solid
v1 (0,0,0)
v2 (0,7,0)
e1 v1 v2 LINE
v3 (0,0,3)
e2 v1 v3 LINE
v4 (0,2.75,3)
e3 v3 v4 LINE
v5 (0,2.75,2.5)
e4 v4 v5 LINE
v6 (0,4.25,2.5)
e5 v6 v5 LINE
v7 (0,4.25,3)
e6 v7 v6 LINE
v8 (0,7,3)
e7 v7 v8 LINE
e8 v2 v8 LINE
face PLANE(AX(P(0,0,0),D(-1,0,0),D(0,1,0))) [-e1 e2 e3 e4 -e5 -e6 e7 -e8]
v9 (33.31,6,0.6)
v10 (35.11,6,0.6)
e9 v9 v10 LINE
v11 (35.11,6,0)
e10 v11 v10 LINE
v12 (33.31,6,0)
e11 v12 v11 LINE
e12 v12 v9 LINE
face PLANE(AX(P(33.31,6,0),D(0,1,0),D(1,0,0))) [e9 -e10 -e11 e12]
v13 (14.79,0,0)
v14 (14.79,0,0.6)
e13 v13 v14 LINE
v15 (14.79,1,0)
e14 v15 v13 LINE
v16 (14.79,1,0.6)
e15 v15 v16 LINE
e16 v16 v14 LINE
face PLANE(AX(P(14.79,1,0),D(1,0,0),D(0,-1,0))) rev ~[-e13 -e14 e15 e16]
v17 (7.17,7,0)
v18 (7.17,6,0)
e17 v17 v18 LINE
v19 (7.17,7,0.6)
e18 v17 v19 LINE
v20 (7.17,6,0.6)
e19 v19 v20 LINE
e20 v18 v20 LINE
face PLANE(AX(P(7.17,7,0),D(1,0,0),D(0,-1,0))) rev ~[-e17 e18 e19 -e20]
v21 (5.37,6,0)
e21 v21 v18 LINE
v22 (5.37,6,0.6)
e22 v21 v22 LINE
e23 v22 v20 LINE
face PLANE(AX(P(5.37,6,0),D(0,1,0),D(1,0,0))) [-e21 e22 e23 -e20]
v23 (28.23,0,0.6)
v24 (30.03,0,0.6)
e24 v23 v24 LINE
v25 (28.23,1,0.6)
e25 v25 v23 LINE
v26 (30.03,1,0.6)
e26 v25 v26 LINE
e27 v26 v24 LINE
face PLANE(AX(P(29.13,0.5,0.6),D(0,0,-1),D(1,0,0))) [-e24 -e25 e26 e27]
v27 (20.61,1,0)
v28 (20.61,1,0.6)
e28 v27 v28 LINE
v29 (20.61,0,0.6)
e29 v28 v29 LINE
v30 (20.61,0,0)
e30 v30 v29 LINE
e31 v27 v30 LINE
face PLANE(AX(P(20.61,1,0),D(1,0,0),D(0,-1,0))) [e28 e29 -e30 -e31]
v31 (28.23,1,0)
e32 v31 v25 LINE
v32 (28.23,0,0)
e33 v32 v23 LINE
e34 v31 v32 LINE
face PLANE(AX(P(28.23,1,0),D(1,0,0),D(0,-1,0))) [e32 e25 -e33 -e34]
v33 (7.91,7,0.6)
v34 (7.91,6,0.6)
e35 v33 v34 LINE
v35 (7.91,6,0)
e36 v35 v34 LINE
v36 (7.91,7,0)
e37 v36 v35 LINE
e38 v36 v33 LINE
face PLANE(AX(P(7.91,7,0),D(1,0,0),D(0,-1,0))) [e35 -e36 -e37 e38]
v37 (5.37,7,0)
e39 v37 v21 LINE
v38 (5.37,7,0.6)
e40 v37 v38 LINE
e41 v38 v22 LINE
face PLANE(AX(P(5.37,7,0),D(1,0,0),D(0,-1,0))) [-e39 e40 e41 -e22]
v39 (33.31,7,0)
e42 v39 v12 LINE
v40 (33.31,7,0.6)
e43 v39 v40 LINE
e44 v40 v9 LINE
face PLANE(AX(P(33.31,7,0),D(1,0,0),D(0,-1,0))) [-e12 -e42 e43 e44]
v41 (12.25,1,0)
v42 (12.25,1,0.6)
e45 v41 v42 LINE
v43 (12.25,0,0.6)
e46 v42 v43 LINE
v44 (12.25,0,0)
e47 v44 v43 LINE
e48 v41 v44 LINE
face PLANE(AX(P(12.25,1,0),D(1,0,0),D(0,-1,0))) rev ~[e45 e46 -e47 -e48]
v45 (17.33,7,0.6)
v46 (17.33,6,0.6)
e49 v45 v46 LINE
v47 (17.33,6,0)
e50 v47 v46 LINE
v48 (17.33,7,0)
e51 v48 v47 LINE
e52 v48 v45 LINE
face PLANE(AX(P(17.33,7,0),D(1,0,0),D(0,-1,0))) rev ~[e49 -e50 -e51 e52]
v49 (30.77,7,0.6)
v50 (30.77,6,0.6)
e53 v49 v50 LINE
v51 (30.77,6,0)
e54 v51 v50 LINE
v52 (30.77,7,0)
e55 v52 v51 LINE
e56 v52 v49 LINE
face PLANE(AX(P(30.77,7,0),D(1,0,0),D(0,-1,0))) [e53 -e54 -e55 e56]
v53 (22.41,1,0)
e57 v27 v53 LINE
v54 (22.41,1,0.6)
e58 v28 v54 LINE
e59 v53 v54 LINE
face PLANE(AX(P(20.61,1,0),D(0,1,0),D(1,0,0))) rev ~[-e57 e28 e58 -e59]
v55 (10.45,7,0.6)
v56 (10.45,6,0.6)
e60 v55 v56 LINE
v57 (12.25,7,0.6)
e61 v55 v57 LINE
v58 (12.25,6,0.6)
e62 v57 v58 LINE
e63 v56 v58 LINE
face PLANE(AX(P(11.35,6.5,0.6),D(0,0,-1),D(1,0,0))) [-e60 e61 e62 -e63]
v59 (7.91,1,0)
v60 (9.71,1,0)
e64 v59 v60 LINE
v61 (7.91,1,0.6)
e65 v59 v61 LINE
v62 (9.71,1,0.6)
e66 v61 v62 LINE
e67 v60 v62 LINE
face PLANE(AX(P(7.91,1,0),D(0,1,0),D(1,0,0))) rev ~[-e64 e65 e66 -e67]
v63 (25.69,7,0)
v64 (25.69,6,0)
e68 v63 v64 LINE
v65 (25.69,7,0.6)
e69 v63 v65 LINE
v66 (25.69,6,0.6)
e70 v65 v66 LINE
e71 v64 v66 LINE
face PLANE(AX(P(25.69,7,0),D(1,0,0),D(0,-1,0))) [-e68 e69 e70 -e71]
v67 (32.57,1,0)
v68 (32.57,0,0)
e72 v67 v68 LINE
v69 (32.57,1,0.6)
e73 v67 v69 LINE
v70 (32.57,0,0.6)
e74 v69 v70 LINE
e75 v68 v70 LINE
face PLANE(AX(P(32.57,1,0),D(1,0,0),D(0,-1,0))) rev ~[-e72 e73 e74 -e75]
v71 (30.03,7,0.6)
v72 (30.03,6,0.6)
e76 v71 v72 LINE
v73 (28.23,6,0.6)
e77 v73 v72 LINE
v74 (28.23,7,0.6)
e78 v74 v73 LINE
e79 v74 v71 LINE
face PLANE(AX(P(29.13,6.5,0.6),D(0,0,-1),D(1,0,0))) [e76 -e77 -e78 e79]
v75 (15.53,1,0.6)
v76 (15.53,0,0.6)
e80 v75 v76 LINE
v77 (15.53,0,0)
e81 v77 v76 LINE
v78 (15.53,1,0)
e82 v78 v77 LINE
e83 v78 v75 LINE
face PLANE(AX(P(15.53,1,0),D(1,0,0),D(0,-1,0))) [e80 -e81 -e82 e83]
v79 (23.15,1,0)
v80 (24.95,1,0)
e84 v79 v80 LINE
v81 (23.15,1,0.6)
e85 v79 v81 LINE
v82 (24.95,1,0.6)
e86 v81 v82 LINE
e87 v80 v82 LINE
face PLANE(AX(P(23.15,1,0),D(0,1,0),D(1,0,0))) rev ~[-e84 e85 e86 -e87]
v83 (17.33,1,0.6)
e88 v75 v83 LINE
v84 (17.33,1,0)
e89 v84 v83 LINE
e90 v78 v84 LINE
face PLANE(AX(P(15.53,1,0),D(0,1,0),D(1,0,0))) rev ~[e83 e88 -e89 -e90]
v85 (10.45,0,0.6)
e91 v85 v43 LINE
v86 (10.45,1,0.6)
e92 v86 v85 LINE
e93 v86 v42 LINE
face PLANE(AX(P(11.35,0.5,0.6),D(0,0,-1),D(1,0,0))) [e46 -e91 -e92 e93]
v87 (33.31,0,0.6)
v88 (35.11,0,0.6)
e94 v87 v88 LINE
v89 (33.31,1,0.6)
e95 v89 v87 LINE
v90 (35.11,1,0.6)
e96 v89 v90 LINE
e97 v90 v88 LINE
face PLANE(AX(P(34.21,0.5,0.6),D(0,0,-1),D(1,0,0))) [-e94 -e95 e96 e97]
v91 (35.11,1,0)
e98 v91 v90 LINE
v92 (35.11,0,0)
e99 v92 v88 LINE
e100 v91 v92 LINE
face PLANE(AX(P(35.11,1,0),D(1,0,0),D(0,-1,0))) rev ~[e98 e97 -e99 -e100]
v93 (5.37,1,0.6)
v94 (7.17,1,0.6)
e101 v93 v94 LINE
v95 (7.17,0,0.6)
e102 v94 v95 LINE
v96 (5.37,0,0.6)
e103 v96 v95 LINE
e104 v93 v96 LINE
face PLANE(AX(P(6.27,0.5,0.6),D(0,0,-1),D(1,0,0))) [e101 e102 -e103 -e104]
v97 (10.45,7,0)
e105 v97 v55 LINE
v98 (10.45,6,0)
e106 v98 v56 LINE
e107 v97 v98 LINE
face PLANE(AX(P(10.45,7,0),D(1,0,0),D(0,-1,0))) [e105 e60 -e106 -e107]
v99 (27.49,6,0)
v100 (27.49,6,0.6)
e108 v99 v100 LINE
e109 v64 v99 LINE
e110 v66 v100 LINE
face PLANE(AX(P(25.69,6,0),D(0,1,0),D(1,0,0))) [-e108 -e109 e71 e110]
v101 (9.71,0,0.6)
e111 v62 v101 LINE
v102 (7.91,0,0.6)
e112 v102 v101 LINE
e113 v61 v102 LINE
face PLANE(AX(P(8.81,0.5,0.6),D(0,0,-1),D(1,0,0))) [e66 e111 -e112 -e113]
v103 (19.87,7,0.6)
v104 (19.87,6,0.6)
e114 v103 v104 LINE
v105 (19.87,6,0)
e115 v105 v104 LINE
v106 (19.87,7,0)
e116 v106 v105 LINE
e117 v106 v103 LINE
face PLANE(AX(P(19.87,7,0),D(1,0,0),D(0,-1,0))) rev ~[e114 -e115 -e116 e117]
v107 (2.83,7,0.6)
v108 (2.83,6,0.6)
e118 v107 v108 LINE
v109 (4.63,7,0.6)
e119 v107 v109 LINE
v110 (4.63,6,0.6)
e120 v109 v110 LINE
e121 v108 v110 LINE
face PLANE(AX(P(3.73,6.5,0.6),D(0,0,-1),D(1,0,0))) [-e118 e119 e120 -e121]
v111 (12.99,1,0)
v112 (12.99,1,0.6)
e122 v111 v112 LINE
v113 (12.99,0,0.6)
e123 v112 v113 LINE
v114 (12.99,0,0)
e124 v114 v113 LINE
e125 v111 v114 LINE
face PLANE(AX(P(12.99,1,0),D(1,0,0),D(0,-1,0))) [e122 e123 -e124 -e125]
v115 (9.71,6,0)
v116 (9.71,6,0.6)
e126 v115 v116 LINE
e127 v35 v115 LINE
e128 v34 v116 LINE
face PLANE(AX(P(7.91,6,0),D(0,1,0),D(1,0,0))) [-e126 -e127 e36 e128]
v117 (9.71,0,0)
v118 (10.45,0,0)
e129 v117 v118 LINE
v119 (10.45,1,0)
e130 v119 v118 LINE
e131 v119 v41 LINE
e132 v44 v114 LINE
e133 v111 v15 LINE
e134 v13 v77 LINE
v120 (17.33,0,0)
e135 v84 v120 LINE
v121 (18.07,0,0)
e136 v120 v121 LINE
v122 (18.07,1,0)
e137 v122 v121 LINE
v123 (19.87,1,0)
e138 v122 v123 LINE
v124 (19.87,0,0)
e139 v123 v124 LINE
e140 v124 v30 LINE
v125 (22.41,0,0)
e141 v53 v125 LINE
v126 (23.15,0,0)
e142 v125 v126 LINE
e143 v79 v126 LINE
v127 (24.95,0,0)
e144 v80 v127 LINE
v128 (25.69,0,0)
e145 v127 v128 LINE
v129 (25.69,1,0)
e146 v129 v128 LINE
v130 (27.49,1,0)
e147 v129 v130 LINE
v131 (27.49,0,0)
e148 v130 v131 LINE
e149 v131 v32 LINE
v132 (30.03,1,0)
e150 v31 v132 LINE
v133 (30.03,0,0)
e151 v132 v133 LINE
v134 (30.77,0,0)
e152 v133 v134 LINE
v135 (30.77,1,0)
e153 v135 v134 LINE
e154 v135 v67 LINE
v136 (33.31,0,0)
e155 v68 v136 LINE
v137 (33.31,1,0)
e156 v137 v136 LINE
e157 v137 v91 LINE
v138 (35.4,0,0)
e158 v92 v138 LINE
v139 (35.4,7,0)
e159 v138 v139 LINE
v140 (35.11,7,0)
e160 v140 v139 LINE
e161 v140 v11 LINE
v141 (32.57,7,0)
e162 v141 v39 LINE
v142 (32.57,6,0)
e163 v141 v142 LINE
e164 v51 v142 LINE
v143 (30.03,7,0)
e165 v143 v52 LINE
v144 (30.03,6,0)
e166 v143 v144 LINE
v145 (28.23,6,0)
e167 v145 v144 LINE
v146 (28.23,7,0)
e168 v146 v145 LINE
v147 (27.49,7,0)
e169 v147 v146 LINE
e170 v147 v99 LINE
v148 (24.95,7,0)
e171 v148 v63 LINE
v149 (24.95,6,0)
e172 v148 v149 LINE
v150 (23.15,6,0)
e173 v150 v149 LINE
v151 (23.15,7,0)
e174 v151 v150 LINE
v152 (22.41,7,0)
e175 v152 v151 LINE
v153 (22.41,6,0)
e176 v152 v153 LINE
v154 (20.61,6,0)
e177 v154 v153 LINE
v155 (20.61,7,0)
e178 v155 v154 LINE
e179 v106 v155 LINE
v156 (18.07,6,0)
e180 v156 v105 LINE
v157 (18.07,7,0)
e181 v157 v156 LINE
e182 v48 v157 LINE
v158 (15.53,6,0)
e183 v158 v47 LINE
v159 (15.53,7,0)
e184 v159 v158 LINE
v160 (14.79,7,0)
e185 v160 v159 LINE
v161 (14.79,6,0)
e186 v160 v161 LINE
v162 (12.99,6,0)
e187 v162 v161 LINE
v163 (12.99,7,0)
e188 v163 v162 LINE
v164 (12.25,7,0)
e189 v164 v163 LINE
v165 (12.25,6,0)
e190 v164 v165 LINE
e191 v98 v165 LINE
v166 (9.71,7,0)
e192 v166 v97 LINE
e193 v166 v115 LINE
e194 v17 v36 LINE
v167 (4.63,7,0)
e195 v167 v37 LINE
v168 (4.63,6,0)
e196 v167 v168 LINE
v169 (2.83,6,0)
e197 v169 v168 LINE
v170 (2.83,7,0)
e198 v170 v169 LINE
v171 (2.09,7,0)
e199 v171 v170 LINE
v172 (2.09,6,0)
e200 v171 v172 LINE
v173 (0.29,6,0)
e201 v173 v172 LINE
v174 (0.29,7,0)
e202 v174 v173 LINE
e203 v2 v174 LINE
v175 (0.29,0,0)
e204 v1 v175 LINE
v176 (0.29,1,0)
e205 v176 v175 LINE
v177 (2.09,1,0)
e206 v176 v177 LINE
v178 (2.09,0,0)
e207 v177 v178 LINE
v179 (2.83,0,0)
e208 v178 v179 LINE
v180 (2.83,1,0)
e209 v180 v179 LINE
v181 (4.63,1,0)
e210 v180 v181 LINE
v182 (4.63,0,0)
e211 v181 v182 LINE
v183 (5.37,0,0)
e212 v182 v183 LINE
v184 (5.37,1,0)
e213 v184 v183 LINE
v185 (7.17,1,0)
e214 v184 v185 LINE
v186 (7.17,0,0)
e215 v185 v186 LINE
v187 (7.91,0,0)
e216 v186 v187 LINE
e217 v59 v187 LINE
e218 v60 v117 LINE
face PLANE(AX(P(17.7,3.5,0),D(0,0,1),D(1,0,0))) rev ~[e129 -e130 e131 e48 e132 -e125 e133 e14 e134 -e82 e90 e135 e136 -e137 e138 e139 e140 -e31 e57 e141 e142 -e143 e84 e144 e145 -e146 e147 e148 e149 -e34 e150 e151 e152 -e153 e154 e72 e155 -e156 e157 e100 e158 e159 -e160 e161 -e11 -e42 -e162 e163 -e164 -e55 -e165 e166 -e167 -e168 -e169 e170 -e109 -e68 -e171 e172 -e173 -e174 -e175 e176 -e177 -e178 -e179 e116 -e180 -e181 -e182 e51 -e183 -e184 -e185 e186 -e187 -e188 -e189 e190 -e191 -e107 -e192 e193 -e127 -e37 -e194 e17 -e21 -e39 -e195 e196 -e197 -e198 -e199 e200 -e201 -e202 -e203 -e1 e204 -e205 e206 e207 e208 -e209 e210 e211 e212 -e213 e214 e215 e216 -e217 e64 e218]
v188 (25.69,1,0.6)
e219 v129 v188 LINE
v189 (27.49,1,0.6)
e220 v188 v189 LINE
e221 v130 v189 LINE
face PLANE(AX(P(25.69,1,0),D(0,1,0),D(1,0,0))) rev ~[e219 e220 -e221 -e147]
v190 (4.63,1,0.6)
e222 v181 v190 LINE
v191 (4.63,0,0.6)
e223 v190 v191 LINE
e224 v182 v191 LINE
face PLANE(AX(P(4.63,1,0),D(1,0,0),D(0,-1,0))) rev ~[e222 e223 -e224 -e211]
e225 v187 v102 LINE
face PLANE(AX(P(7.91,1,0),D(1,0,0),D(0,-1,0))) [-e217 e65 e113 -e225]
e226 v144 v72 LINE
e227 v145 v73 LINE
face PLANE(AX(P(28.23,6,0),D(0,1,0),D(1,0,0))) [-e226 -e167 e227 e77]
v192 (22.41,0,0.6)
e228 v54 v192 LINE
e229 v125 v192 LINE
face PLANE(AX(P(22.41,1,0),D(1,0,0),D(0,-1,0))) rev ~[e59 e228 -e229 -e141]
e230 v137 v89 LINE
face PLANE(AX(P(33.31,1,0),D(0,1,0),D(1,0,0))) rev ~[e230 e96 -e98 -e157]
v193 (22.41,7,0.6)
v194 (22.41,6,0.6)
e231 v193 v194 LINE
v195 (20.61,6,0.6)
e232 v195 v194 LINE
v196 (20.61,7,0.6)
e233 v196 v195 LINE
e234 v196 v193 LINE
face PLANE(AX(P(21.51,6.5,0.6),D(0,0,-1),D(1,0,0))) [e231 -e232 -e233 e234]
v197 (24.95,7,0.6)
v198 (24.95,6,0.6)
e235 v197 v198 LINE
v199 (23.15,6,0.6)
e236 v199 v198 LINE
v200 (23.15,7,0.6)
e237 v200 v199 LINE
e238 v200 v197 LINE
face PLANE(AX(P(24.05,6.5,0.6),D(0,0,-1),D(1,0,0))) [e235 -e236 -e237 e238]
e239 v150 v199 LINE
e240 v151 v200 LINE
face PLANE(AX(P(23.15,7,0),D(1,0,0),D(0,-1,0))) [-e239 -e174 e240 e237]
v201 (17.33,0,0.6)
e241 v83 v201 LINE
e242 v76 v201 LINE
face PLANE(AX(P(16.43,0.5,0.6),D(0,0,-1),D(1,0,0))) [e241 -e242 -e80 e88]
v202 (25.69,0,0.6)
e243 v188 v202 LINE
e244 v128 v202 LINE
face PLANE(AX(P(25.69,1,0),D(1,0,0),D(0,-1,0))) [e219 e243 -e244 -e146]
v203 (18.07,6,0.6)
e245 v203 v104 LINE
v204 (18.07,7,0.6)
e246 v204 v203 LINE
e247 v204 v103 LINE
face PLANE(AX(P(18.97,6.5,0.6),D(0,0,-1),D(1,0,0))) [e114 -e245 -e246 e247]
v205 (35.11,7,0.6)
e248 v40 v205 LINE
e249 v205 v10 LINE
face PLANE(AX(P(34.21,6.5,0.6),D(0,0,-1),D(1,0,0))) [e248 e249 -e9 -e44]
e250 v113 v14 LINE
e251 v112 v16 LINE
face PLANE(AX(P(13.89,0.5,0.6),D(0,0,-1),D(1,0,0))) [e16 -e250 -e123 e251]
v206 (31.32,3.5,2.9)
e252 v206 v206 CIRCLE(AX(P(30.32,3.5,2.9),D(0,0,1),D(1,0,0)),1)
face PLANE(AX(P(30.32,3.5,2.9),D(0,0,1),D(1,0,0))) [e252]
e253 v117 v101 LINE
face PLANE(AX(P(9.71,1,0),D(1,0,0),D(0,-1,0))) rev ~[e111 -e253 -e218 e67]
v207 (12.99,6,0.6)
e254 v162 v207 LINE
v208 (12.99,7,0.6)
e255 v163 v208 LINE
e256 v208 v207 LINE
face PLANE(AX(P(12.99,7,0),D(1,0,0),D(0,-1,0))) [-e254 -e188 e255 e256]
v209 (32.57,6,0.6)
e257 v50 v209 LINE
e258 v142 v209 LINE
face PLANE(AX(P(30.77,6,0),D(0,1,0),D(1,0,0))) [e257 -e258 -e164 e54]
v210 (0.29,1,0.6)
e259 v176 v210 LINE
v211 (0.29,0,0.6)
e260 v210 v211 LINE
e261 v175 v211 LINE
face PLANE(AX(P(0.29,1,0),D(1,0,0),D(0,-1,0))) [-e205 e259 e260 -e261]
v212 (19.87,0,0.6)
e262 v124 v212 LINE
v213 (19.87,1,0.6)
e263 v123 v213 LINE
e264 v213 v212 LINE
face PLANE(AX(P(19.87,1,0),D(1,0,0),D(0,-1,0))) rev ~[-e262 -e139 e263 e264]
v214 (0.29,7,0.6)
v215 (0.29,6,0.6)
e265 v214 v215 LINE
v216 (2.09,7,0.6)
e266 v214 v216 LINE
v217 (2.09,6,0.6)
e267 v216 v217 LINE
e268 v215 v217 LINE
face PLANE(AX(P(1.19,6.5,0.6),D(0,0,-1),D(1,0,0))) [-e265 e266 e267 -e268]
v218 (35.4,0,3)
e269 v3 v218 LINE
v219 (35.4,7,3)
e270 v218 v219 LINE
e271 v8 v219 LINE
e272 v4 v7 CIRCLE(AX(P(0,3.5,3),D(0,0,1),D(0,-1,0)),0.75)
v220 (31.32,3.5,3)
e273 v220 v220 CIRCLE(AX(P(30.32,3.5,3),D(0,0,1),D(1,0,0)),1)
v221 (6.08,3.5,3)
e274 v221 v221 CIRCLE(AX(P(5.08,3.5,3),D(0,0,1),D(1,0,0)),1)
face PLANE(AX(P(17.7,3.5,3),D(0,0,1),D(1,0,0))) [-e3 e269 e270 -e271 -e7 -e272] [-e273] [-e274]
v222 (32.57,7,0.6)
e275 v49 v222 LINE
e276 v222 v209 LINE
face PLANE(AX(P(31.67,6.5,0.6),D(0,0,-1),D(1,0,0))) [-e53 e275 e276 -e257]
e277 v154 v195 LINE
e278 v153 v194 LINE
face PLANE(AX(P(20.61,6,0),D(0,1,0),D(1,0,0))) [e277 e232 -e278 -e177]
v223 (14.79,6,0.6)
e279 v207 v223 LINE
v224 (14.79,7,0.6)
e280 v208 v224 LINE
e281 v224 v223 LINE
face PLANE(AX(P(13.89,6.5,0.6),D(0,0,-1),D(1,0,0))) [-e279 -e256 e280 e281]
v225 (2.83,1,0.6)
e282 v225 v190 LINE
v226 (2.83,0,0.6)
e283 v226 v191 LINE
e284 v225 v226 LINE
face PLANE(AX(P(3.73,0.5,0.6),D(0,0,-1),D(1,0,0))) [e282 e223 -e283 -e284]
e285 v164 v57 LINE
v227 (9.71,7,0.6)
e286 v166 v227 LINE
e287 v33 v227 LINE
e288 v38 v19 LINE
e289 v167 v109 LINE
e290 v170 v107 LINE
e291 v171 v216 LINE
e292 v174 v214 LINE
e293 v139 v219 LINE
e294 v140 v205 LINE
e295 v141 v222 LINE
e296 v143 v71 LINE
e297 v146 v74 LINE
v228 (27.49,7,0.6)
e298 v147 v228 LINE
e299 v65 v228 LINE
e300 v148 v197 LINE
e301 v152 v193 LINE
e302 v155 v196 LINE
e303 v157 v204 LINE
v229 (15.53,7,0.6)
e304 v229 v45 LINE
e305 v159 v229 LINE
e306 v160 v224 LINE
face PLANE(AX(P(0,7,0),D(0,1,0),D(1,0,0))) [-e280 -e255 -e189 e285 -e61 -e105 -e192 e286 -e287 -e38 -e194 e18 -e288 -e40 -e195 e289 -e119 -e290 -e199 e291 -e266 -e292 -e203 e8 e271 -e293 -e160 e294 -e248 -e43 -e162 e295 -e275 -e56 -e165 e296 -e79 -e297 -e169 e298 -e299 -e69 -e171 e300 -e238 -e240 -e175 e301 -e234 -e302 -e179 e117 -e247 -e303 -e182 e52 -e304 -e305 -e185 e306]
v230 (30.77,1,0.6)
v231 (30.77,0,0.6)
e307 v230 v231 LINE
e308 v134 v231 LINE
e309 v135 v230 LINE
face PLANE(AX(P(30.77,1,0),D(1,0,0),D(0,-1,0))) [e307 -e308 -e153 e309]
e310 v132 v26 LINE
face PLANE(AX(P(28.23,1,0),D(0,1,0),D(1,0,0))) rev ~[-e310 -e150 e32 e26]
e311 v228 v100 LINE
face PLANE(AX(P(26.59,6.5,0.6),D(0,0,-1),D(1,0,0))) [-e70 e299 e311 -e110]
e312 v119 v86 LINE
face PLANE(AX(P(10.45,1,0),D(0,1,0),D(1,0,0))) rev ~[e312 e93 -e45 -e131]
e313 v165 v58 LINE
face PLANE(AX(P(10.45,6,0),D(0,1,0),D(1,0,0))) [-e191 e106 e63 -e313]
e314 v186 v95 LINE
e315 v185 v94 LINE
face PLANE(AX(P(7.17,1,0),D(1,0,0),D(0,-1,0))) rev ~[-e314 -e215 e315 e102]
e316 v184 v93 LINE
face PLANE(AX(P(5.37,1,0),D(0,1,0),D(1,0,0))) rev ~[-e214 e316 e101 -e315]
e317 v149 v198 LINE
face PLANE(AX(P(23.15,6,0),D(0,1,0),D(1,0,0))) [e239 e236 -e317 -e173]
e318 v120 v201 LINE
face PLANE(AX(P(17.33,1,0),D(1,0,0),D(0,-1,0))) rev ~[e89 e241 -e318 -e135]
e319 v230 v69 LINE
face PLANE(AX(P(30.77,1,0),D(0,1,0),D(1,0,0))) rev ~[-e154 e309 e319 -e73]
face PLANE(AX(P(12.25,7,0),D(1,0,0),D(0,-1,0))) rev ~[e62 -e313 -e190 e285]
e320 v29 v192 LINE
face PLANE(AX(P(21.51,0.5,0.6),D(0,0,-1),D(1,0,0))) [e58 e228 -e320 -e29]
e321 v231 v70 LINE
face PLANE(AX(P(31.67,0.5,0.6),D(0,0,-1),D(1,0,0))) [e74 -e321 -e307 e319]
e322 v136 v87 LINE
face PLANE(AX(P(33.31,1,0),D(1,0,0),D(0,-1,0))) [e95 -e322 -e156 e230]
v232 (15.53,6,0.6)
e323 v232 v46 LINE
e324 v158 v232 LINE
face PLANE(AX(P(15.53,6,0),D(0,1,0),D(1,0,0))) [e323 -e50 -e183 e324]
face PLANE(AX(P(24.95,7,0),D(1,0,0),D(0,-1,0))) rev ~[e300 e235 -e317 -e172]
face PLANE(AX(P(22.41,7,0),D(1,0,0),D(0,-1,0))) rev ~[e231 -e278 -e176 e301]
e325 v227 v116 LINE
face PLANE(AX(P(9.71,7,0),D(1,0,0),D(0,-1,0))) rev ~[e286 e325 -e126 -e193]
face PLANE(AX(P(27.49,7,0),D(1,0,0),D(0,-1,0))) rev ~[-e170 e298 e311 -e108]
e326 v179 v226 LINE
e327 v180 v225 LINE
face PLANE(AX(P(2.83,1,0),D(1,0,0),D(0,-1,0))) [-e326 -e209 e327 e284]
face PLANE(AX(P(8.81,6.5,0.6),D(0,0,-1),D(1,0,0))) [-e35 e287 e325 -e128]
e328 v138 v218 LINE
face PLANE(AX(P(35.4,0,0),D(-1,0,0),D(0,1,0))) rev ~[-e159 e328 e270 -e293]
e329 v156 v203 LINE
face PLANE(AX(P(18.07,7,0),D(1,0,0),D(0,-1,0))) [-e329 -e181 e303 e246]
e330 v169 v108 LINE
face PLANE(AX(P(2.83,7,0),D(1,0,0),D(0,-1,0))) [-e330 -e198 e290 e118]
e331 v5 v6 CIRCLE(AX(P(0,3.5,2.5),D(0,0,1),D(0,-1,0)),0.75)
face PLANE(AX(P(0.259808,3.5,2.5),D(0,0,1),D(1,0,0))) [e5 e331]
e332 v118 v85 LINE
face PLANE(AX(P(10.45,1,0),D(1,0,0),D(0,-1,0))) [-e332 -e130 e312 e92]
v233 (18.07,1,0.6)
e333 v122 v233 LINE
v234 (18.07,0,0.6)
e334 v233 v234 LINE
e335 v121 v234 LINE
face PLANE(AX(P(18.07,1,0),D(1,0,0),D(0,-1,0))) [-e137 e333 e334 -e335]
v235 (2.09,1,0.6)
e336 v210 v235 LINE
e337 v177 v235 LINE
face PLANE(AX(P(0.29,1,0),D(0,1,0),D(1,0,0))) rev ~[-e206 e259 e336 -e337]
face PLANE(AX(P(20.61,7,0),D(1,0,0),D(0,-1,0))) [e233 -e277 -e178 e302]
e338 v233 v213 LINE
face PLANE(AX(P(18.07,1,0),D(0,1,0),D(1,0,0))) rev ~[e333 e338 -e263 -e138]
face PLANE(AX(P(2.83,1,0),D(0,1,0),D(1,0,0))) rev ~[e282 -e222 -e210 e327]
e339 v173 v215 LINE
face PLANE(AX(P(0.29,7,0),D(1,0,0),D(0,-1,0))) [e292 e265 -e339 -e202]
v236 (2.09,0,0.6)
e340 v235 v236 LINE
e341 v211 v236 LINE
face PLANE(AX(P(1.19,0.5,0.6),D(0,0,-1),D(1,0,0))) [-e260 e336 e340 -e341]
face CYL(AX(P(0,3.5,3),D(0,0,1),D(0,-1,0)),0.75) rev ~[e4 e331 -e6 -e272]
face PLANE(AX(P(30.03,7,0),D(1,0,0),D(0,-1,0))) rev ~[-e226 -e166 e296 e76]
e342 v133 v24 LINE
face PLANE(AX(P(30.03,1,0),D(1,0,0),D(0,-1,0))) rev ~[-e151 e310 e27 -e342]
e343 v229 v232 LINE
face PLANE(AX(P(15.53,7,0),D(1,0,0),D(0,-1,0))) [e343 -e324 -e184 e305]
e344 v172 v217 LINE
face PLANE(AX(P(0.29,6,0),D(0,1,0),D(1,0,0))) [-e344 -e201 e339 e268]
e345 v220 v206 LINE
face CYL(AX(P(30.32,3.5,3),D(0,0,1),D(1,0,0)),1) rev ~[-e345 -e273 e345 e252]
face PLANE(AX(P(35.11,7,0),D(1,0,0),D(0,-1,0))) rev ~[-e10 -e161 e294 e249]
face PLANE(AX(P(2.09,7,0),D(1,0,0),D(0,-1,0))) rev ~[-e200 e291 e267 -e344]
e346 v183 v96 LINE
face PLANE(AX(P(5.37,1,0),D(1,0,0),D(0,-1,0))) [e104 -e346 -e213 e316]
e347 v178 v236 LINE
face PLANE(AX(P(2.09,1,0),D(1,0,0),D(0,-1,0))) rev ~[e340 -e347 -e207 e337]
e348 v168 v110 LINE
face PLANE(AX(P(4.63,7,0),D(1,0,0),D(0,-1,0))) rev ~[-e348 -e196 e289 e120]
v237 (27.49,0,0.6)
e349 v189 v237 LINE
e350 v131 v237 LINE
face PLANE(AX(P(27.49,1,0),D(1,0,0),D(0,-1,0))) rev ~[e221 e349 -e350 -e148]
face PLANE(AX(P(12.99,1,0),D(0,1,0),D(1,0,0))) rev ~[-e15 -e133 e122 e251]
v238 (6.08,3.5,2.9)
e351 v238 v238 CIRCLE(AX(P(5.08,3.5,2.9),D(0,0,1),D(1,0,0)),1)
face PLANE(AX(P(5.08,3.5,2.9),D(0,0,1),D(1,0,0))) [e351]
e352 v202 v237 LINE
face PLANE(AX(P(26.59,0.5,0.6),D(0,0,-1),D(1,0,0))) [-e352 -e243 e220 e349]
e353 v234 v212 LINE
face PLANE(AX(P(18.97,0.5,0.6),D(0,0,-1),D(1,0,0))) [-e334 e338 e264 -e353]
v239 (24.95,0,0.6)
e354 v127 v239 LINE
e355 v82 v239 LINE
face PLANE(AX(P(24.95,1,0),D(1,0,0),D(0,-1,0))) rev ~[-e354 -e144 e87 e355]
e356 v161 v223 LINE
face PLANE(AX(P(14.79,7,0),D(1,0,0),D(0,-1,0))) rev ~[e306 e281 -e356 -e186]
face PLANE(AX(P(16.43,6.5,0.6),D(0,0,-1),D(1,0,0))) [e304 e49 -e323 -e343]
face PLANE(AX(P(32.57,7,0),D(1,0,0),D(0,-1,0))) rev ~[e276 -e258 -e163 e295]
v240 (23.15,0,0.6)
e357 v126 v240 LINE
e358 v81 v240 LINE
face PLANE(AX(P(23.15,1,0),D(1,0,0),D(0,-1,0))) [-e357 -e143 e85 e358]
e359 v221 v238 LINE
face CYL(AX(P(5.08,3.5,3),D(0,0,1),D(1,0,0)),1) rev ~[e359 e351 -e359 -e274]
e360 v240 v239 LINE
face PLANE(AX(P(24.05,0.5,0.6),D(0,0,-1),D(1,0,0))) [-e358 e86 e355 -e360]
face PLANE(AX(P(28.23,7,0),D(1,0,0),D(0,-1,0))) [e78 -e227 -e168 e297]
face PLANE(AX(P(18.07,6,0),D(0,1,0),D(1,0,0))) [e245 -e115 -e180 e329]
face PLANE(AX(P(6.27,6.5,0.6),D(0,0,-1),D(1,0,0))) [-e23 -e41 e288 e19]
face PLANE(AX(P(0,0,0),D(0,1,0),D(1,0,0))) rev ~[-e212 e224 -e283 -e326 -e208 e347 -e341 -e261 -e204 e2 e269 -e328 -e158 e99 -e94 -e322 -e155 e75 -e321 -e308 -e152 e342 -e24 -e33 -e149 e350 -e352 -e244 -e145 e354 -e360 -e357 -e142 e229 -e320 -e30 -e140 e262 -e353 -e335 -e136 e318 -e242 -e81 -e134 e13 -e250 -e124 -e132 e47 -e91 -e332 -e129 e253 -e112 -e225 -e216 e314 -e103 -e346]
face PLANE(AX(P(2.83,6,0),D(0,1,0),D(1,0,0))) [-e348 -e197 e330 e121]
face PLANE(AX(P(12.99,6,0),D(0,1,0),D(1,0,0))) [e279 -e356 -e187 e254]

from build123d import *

# Parameters (mm, degrees)
F0_W     = 35.4
F0_H     = 7
F1_DEPTH = 3
F2_W     = 1.8
F2_H     = 1
F3_DEPTH = 0.6
F4_R     = 1
F5_DEPTH = 0.1
F7_DEPTH = 0.5


with BuildPart() as f1:
    # F0 (on Top) → F1 (new body)
    with BuildSketch(Plane.XY):
        with Locations((17.7, 3.5)):
            Rectangle(F0_W, F0_H)
    extrude(amount=F1_DEPTH)

    # F2 (on face) → F3 (cut)
    with BuildSketch(Plane(origin=(0, 0, 0), x_dir=(1, 0, 0), z_dir=(0, 0, -1))):
        with Locations((1.19, -0.5)):
            Rectangle(F2_W, F2_H)
        with Locations((3.73, -0.5)):
            Rectangle(F2_W, F2_H)
        with Locations((6.27, -0.5)):
            Rectangle(F2_W, F2_H)
        with Locations((8.81, -0.5)):
            Rectangle(F2_W, F2_H)
        with Locations((11.35, -0.5)):
            Rectangle(F2_W, F2_H)
        with Locations((13.89, -0.5)):
            Rectangle(F2_W, F2_H)
        with Locations((16.43, -0.5)):
            Rectangle(F2_W, F2_H)
        with Locations((18.97, -0.5)):
            Rectangle(F2_W, F2_H)
        with Locations((21.51, -0.5)):
            Rectangle(F2_W, F2_H)
        with Locations((24.05, -0.5)):
            Rectangle(F2_W, F2_H)
        with Locations((26.59, -0.5)):
            Rectangle(F2_W, F2_H)
        with Locations((29.13, -0.5)):
            Rectangle(F2_W, F2_H)
        with Locations((31.67, -0.5)):
            Rectangle(F2_W, F2_H)
        with Locations((34.21, -0.5)):
            Rectangle(F2_W, F2_H)
        with Locations((34.21, -6.5)):
            Rectangle(F2_W, F2_H)
        with Locations((31.67, -6.5)):
            Rectangle(F2_W, F2_H)
        with Locations((29.13, -6.5)):
            Rectangle(F2_W, F2_H)
        with Locations((26.59, -6.5)):
            Rectangle(F2_W, F2_H)
        with Locations((24.05, -6.5)):
            Rectangle(F2_W, F2_H)
        with Locations((21.51, -6.5)):
            Rectangle(F2_W, F2_H)
        with Locations((18.97, -6.5)):
            Rectangle(F2_W, F2_H)
        with Locations((16.43, -6.5)):
            Rectangle(F2_W, F2_H)
        with Locations((13.89, -6.5)):
            Rectangle(F2_W, F2_H)
        with Locations((11.35, -6.5)):
            Rectangle(F2_W, F2_H)
        with Locations((8.81, -6.5)):
            Rectangle(F2_W, F2_H)
        with Locations((6.27, -6.5)):
            Rectangle(F2_W, F2_H)
        with Locations((3.73, -6.5)):
            Rectangle(F2_W, F2_H)
        with Locations((1.19, -6.5)):
            Rectangle(F2_W, F2_H)
    extrude(amount=-F3_DEPTH, mode=Mode.SUBTRACT)

    # F4 (on face) → F5 (cut)
    with BuildSketch(Plane.XY.offset(3)):
        with Locations((5.08, 3.5)):
            Circle(F4_R)
        with Locations((30.32, 3.5)):
            Circle(F4_R)
    extrude(amount=-F5_DEPTH, mode=Mode.SUBTRACT)

    # F6 (on face) → F7 (cut)
    with BuildSketch(Plane.XY.offset(3)):
        with BuildLine():
            Line((0, 4.25), (0, 2.75))
            ThreePointArc((0, 2.75), (0.75, 3.5), (0, 4.25))
        make_face()
    extrude(amount=-F7_DEPTH, mode=Mode.SUBTRACT)


solid = f1.part
